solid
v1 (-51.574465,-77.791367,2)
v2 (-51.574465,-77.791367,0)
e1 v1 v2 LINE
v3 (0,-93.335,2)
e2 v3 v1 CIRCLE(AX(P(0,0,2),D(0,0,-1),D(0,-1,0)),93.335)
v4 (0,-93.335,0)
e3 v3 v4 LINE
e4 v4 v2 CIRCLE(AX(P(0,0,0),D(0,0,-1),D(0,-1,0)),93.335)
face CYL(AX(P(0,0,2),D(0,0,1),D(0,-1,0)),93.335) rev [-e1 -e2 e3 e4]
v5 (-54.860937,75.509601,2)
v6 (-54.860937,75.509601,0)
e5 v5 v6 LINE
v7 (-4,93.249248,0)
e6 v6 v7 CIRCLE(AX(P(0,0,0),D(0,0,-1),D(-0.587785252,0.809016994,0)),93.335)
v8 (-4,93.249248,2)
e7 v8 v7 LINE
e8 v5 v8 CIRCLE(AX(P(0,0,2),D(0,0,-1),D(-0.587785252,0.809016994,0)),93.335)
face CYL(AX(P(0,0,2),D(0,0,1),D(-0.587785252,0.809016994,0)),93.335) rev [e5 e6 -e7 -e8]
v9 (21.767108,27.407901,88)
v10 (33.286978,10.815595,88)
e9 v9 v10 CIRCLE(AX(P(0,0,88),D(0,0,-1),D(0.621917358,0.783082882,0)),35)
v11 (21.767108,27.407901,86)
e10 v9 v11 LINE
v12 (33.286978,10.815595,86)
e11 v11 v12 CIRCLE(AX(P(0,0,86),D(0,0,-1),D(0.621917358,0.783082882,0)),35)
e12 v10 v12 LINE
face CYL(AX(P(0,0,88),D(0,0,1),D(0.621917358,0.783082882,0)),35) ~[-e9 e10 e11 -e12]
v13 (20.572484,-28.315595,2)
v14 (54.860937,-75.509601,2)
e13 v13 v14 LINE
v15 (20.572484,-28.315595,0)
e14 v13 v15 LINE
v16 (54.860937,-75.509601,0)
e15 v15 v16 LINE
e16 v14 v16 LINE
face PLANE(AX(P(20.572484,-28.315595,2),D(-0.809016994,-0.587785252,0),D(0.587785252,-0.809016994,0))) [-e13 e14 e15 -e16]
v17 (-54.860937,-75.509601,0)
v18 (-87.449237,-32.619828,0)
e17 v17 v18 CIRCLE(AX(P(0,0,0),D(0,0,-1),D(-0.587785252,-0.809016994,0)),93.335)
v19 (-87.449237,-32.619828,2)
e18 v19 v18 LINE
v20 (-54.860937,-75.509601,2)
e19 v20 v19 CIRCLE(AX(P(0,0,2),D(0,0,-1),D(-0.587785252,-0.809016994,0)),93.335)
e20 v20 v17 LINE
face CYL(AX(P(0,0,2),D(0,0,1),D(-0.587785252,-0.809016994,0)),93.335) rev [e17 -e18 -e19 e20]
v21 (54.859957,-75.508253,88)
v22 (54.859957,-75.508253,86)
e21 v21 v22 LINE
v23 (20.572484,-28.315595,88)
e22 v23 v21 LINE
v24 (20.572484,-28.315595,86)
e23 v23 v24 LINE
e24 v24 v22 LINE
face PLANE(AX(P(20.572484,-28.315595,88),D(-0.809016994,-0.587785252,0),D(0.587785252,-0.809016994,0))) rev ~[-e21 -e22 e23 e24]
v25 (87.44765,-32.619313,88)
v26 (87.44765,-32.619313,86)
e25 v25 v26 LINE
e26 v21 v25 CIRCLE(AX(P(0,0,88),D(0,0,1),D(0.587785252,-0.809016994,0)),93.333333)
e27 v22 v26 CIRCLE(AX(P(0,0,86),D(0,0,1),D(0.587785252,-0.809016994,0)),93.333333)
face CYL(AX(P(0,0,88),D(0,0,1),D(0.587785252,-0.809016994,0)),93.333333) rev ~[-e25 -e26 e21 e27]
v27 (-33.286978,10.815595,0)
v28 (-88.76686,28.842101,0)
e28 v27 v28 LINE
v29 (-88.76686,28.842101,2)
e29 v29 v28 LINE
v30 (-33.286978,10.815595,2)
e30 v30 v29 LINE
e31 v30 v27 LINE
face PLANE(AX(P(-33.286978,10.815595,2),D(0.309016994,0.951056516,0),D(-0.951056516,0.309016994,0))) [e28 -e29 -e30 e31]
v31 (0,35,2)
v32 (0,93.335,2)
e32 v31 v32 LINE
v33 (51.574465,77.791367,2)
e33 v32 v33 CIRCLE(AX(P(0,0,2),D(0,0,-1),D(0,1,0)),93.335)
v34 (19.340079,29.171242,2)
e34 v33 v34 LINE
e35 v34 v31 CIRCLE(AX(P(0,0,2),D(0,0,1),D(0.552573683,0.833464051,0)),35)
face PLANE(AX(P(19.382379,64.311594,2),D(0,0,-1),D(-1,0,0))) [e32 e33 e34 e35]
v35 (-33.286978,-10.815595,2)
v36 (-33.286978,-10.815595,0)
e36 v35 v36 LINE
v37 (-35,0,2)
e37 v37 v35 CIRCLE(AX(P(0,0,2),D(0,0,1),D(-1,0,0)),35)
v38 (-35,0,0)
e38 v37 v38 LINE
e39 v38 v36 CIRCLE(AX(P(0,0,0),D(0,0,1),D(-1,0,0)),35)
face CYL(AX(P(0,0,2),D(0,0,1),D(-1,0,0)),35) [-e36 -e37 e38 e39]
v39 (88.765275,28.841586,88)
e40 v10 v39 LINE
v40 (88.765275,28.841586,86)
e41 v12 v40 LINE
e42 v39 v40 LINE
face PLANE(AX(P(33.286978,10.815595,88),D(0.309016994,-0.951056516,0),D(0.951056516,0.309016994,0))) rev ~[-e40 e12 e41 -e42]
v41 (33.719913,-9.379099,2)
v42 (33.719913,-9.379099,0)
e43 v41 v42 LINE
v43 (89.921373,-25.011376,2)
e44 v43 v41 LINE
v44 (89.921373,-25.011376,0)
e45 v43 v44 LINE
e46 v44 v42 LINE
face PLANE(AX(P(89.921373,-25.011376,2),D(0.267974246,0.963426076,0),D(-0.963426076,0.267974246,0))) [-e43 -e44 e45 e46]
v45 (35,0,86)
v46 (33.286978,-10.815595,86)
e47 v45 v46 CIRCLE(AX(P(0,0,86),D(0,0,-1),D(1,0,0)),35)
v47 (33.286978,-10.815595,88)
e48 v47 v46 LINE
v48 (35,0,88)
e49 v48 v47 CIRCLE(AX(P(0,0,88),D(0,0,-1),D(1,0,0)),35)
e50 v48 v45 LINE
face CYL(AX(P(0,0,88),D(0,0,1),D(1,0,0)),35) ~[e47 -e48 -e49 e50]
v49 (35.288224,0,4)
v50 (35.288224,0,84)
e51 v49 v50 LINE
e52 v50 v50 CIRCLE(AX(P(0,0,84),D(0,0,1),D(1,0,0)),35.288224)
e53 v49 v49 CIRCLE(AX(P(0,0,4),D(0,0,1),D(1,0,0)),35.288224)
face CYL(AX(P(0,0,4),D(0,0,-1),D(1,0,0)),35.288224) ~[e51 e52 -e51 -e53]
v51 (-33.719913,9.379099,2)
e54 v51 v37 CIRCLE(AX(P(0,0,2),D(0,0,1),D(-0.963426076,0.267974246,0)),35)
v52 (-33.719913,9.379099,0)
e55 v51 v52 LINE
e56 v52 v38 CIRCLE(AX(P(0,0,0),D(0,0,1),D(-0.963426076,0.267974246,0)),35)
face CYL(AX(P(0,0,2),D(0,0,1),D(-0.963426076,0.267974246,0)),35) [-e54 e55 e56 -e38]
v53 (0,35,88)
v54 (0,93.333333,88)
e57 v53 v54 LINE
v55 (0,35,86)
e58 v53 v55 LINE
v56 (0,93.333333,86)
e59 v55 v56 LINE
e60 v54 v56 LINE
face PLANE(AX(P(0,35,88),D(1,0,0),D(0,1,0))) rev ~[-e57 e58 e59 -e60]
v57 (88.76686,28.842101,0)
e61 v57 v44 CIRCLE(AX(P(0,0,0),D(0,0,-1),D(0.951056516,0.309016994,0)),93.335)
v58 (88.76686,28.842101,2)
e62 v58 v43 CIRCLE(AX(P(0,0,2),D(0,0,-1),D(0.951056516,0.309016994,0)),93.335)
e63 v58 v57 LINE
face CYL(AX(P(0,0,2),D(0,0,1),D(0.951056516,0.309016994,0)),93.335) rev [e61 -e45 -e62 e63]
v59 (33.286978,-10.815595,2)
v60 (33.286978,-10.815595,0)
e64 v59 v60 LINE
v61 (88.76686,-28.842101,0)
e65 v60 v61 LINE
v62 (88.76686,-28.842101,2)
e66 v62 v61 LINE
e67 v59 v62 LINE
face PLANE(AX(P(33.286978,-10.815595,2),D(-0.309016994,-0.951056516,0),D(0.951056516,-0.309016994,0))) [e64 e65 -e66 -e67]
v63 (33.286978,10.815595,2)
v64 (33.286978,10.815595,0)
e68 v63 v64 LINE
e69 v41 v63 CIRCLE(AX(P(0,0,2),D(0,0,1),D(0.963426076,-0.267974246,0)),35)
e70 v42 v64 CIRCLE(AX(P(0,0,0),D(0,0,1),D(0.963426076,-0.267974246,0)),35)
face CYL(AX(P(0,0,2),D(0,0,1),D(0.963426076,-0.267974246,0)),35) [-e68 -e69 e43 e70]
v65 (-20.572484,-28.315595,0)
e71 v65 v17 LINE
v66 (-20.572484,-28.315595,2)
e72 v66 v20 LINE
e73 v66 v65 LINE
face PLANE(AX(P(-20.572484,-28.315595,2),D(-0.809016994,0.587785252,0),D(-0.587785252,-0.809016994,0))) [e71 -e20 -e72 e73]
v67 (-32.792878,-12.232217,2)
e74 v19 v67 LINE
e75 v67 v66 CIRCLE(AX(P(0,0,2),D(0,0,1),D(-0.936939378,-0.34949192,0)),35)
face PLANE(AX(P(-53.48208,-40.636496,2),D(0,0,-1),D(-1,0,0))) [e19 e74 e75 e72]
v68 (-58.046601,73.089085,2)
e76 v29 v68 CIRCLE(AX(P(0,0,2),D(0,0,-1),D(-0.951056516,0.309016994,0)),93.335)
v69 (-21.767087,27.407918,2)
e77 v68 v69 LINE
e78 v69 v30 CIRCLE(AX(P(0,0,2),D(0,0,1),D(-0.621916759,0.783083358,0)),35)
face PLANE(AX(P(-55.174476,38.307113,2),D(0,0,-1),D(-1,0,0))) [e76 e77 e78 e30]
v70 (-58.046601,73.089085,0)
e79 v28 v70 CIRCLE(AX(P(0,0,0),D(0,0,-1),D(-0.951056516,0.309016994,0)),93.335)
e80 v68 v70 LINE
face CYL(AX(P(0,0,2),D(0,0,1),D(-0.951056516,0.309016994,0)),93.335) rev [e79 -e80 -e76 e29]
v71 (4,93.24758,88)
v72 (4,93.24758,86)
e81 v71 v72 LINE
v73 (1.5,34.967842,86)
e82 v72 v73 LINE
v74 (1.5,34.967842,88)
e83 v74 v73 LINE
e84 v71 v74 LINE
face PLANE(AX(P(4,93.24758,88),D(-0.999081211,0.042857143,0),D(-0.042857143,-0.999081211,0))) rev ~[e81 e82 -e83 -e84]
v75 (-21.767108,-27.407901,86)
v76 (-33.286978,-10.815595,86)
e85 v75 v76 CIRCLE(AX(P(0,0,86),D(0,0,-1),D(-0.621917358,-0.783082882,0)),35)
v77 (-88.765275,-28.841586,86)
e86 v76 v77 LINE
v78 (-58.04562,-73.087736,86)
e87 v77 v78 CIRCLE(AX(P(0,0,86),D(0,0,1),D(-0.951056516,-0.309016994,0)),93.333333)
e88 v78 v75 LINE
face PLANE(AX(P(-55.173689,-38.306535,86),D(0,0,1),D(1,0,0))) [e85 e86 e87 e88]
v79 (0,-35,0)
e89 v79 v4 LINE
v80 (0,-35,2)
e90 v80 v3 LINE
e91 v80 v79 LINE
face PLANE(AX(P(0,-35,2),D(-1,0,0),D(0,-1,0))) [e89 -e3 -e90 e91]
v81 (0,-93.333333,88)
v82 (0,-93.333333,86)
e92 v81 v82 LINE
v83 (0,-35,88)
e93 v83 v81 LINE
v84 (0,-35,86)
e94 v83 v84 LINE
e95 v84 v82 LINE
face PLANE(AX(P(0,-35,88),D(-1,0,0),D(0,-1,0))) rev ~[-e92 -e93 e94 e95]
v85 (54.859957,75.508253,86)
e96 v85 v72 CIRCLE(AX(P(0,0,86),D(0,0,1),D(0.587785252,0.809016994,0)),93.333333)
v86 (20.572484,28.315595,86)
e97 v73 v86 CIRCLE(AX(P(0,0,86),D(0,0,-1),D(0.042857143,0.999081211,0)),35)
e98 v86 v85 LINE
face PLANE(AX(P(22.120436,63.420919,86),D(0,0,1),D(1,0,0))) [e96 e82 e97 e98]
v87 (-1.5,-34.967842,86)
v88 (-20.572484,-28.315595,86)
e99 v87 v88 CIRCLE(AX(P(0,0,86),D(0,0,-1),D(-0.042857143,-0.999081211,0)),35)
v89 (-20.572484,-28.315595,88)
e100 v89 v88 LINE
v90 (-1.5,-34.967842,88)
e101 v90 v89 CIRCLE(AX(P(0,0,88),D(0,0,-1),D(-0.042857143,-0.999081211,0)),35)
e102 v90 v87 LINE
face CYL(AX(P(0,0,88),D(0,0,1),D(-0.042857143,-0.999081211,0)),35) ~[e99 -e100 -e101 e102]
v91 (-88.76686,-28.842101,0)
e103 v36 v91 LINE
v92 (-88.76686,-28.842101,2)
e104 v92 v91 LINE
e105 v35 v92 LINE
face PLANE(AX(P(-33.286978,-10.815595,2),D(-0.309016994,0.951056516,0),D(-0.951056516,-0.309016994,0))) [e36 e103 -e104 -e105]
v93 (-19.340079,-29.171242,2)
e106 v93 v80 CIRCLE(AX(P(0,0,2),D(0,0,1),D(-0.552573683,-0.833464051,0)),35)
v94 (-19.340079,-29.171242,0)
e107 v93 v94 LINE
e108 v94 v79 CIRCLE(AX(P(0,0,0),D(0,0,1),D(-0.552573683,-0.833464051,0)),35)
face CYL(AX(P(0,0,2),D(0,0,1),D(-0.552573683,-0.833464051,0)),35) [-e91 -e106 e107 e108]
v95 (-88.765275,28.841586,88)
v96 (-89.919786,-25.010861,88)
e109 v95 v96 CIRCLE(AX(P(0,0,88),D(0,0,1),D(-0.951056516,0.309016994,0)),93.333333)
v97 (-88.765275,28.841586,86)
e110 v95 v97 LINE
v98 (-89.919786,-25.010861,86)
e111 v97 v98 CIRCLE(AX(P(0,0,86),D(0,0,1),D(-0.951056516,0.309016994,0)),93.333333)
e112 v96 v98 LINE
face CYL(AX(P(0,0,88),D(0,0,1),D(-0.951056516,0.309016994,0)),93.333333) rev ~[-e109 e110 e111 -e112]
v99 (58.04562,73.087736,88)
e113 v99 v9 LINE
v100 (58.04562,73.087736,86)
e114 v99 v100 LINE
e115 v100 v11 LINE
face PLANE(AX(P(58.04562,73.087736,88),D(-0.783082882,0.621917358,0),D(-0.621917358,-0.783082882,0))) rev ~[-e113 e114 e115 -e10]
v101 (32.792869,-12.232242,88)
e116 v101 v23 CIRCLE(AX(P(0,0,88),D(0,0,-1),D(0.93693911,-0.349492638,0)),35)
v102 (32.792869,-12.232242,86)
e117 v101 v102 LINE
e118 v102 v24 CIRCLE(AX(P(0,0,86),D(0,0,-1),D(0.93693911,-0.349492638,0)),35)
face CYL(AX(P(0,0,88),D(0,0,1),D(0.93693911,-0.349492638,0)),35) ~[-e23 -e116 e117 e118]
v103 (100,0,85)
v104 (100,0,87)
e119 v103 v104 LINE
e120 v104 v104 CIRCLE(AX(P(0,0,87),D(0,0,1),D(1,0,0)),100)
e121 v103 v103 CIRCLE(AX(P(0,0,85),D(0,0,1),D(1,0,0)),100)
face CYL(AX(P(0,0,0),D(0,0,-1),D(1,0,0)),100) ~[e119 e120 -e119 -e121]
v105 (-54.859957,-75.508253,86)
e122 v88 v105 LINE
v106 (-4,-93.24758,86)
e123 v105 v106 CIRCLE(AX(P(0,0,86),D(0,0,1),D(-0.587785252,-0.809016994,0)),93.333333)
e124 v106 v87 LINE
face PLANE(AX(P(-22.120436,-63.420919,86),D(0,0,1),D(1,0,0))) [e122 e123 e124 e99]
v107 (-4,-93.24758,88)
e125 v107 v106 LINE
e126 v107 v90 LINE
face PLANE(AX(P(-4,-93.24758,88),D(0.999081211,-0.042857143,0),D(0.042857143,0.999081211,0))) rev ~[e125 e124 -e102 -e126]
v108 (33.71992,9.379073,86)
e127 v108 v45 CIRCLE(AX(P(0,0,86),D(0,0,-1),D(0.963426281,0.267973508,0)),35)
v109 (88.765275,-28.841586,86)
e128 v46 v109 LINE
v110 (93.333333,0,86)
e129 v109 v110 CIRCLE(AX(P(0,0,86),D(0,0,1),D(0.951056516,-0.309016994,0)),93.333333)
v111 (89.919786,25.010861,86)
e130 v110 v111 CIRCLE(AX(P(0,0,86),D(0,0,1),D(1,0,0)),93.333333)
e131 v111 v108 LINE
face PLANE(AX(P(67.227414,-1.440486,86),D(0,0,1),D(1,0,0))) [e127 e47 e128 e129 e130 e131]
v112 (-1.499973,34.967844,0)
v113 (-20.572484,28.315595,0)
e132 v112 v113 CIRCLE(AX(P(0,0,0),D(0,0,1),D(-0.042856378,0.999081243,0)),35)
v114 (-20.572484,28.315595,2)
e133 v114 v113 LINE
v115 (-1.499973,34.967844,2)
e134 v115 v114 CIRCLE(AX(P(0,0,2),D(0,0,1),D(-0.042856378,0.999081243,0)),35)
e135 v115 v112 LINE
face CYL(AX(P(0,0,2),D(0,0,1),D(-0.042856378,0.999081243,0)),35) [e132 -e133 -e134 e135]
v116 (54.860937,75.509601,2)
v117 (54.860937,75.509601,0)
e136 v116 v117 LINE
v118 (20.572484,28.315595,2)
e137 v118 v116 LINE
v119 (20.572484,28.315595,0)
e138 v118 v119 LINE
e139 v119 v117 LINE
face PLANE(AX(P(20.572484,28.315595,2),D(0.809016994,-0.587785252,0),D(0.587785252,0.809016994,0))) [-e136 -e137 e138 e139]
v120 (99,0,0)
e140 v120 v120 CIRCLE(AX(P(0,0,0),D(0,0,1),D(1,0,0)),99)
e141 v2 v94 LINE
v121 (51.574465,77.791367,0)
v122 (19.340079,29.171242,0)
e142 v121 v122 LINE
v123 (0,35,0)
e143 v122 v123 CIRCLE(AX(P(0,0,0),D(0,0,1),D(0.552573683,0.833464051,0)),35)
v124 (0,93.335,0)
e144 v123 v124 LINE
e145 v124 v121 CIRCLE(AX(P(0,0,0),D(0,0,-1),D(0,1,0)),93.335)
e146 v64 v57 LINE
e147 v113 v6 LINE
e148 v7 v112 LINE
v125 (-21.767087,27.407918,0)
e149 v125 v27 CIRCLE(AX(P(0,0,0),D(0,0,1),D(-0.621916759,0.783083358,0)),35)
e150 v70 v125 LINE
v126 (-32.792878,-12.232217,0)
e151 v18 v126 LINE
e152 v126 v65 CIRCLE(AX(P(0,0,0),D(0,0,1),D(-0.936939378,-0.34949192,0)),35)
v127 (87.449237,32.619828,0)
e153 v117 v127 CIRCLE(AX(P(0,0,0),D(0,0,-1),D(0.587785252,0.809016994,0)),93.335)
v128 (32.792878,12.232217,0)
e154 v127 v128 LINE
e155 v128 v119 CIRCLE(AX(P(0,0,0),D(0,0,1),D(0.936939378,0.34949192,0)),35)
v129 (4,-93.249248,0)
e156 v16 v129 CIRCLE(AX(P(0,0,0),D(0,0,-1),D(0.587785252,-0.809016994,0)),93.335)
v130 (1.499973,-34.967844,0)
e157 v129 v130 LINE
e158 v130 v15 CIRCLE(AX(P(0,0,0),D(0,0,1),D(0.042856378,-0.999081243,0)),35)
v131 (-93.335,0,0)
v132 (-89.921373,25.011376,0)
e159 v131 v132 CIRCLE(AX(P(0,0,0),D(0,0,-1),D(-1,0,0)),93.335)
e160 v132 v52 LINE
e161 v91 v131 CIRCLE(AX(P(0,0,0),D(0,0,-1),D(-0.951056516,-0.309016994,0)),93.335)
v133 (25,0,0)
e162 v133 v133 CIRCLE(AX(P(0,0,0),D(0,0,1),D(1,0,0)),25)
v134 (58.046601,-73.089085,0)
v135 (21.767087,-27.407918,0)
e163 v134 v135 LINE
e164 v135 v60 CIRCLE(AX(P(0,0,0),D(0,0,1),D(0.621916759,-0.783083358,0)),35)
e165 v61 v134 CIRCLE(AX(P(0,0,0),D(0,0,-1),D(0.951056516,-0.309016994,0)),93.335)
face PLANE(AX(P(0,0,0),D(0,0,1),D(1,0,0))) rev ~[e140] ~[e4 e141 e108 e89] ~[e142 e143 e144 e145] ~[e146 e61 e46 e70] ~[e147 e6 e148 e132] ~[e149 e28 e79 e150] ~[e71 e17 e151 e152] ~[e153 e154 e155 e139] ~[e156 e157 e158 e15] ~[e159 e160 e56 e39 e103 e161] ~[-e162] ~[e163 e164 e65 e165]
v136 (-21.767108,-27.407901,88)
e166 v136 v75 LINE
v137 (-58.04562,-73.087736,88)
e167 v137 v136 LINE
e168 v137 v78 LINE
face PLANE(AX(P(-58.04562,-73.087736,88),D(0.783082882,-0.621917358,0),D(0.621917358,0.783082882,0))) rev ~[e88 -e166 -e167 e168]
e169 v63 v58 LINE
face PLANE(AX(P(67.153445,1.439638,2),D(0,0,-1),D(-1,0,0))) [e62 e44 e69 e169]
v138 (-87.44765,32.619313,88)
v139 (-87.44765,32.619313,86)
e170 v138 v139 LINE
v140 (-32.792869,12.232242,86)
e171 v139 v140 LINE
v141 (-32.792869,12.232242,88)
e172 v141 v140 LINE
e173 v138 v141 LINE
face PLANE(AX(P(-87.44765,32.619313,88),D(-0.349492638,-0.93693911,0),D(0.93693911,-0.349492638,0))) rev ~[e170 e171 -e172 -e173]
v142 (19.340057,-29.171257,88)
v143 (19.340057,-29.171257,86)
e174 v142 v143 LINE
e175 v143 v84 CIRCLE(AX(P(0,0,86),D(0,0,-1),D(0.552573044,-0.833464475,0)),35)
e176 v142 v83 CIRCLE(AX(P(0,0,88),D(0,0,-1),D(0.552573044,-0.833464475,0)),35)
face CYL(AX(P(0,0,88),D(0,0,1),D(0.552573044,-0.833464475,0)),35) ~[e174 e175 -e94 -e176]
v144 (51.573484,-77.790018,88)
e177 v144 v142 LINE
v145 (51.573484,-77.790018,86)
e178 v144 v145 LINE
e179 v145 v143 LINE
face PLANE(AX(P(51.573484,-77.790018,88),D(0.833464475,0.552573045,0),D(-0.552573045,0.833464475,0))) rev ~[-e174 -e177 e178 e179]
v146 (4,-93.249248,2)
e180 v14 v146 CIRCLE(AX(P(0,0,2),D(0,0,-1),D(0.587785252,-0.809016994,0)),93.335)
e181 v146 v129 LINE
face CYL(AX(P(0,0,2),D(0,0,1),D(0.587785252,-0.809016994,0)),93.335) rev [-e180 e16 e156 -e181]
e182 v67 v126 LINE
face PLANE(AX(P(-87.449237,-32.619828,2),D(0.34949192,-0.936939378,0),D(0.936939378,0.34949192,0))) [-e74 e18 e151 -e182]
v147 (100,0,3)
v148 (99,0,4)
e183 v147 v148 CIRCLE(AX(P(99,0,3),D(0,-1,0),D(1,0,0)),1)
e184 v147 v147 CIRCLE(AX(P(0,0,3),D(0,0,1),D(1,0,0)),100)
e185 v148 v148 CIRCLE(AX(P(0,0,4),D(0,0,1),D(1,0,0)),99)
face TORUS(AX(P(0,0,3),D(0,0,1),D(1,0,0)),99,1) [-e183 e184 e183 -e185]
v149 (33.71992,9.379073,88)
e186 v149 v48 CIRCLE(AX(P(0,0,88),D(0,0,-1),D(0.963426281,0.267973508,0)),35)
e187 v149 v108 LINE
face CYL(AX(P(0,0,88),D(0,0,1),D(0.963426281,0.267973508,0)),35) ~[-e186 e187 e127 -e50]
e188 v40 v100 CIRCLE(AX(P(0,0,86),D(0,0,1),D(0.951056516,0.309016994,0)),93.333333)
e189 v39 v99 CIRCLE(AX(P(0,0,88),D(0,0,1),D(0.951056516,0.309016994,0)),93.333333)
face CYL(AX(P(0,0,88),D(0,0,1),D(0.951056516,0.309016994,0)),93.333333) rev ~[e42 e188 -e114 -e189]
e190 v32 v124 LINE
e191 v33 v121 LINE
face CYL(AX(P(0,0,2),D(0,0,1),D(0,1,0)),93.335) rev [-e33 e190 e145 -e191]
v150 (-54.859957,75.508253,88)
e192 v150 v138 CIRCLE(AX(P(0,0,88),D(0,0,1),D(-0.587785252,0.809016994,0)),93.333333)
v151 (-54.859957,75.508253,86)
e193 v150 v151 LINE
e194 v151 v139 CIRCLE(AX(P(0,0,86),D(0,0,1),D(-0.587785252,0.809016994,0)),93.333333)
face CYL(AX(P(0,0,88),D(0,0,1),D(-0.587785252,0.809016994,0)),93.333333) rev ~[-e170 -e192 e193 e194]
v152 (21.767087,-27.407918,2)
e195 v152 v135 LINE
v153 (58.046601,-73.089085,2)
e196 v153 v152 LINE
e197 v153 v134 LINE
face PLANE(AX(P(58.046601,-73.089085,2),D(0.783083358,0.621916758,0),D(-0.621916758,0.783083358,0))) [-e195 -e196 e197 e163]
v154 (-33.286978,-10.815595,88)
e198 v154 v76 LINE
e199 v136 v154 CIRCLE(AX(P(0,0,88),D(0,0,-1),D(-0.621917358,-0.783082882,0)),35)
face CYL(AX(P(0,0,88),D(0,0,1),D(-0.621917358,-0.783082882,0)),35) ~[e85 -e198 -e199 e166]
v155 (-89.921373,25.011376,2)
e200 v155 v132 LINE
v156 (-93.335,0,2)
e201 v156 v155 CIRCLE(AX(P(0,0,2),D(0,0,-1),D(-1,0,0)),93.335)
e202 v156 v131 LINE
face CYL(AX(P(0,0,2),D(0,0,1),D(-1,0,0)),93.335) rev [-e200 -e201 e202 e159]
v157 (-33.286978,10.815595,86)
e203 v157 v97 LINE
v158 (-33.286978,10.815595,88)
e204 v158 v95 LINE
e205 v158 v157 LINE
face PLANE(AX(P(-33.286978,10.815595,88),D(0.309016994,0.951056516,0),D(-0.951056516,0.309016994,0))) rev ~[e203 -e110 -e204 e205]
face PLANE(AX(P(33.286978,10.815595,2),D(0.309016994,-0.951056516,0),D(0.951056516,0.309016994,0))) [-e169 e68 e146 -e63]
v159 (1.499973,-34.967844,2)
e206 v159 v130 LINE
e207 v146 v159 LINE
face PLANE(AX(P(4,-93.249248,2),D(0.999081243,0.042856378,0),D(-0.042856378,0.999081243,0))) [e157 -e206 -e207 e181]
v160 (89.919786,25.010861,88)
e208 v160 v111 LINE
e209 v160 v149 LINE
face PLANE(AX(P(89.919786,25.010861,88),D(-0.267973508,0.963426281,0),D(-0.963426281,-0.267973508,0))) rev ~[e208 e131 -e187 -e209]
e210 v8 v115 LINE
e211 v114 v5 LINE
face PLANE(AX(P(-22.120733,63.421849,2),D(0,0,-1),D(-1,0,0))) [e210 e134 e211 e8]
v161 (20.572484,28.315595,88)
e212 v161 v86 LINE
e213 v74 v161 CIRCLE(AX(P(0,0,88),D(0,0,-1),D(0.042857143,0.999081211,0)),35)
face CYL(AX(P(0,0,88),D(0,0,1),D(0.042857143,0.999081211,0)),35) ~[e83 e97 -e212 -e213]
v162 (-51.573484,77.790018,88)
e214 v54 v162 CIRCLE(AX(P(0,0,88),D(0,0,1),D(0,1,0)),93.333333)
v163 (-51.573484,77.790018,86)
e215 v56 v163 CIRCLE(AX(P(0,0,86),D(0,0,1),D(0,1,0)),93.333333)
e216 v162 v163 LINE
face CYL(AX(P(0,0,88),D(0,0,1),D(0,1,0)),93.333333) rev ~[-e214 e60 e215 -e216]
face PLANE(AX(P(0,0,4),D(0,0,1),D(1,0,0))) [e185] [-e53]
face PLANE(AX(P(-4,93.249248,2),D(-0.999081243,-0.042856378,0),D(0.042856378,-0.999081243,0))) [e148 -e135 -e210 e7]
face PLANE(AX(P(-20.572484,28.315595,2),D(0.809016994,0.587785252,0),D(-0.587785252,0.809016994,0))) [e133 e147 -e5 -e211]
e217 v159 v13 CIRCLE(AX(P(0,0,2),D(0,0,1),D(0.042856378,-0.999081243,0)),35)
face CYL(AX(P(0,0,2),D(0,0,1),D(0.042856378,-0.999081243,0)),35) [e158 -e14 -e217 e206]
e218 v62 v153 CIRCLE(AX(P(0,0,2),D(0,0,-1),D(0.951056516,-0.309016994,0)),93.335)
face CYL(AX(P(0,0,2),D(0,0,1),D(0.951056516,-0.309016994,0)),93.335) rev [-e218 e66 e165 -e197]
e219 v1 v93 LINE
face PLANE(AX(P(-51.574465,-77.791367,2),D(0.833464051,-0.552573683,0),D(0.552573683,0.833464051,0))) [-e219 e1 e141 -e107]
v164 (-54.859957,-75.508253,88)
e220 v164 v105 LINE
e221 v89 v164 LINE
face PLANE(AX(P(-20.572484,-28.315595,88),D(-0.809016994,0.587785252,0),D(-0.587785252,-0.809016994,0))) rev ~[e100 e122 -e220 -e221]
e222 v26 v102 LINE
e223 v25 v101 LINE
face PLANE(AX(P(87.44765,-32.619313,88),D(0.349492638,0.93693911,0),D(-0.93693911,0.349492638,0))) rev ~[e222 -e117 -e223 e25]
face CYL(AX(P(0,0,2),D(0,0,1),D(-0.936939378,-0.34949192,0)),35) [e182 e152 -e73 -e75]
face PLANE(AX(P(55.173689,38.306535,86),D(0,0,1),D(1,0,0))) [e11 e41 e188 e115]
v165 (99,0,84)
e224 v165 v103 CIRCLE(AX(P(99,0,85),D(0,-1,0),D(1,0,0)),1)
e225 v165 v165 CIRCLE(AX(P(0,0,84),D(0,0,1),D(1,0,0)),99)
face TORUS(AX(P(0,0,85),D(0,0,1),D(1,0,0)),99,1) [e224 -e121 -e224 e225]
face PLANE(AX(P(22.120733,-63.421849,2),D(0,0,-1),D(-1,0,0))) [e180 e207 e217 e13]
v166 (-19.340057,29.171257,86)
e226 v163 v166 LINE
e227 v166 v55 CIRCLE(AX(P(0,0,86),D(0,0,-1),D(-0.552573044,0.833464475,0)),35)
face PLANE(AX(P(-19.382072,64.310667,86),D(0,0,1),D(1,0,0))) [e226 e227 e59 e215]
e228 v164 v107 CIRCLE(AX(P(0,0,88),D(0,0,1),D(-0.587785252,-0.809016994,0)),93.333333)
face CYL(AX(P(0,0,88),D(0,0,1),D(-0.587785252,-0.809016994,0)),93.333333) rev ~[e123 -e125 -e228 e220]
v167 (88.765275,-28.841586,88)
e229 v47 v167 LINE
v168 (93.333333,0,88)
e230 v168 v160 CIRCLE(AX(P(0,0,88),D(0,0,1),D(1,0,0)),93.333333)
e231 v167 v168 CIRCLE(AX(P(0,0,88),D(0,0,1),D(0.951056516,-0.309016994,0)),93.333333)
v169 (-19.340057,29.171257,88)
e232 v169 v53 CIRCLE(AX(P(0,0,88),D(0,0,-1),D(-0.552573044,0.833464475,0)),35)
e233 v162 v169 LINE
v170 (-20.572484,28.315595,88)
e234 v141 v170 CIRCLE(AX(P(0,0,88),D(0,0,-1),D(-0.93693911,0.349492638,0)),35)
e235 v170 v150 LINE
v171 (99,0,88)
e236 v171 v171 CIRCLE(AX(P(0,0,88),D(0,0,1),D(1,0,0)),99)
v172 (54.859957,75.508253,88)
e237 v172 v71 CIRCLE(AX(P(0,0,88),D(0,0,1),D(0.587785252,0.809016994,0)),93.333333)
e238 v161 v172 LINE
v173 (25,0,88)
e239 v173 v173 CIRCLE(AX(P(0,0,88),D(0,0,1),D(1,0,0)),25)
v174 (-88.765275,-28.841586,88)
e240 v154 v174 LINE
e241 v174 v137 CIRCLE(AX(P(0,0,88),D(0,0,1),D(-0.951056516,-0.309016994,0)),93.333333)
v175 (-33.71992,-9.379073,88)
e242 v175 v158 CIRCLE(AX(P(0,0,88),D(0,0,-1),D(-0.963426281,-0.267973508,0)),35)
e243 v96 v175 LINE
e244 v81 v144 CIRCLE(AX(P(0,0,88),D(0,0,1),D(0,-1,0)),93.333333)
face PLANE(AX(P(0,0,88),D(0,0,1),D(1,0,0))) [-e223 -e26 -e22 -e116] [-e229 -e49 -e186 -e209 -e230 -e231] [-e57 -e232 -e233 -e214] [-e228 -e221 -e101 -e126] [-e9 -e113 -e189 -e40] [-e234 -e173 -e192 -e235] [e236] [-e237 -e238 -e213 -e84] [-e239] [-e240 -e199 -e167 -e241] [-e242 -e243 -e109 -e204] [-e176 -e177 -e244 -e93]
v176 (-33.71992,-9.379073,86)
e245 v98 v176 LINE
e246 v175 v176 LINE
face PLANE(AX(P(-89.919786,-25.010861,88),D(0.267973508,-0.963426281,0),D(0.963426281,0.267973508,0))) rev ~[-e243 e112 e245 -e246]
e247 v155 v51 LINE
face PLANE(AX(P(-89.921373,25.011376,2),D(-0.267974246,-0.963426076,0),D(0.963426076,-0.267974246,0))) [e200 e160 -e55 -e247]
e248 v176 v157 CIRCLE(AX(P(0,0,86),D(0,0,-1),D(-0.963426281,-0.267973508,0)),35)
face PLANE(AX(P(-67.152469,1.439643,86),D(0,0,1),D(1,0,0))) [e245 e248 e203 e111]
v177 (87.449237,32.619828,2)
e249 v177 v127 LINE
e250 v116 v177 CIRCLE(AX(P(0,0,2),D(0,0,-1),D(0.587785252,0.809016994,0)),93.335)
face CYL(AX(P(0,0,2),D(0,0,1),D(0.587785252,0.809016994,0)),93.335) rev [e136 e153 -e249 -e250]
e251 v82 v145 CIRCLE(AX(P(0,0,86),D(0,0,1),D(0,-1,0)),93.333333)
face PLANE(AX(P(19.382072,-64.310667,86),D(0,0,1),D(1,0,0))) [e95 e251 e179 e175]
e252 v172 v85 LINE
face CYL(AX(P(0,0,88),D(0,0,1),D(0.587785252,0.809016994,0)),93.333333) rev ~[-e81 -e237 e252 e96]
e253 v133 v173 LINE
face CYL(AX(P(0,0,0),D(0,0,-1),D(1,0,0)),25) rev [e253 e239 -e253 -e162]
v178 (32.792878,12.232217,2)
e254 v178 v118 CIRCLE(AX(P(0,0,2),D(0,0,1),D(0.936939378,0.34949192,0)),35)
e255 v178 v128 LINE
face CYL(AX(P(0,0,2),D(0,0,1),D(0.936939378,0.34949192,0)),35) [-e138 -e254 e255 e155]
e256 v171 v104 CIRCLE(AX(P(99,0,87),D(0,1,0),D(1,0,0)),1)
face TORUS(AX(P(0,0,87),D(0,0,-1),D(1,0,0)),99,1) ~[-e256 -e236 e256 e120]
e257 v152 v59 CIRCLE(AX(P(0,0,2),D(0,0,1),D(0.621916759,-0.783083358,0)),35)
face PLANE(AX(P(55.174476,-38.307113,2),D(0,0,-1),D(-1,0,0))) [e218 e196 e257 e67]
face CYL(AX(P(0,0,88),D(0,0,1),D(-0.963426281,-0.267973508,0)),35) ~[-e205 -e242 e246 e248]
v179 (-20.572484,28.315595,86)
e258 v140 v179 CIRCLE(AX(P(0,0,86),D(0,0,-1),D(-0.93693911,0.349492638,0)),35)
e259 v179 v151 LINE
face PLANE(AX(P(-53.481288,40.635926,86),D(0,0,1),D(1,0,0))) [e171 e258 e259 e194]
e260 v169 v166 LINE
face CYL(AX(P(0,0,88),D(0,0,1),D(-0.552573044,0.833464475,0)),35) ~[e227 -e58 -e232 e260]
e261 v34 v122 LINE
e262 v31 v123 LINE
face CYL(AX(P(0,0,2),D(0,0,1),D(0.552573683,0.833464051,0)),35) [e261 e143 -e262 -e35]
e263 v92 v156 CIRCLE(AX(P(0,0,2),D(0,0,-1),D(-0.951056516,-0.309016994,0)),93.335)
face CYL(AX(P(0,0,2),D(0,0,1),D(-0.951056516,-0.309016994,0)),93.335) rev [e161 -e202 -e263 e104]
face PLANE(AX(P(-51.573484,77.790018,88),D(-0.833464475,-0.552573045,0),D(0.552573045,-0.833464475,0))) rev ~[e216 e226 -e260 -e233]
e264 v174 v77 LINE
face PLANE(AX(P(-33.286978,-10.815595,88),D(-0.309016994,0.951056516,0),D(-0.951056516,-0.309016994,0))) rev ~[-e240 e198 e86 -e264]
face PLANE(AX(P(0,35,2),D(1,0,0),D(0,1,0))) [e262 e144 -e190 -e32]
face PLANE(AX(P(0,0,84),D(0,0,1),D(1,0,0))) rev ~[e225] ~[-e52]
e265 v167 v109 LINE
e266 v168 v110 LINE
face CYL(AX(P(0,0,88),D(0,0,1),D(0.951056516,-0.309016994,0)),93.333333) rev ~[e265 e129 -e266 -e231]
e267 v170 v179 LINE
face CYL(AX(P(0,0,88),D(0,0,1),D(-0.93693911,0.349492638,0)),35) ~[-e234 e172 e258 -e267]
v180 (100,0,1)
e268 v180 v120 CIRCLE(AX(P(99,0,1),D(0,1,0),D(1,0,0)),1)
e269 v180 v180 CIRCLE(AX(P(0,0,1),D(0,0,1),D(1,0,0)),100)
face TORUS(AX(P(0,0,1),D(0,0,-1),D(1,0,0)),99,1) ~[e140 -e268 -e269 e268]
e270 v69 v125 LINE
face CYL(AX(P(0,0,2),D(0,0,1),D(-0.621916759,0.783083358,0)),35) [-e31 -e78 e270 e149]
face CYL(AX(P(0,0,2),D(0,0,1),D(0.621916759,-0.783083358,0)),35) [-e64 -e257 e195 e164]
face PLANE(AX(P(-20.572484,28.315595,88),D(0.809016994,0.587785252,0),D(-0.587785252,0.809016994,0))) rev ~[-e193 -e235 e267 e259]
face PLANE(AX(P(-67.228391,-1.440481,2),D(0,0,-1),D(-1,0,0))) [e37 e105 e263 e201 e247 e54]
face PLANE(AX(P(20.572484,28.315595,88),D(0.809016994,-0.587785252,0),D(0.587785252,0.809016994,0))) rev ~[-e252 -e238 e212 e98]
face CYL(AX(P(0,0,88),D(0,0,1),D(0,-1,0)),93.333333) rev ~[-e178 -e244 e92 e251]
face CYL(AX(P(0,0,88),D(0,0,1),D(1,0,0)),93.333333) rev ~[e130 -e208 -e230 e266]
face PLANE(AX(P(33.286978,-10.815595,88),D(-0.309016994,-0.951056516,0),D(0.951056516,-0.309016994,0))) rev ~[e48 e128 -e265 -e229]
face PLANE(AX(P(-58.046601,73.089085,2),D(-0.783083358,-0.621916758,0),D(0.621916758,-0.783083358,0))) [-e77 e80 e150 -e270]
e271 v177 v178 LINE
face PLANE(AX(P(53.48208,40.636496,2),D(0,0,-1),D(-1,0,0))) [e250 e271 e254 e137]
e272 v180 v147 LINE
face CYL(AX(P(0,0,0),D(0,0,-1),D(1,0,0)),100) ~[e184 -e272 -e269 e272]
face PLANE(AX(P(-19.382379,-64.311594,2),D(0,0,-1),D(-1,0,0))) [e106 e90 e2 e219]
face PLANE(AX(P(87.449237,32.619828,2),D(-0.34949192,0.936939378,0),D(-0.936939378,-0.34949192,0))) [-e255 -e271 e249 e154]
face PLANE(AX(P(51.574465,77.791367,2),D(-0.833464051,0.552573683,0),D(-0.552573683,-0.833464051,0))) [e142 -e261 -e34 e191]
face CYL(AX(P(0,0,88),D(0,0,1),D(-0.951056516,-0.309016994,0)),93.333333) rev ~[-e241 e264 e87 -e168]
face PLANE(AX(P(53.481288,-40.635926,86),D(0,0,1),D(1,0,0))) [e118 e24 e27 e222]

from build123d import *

# Parameters (mm, degrees)
SKICA1_R                 = 100
SKICA1_R_2               = 25
P_IDAT_VYSUNUT_M1_DEPTH  = 88
ODEBRAT_START            = -80
SKICA2_R                 = 100
SKICA2_R_2               = 35.288223769
ODEBRAT_VYSUNUT_M1_DEPTH = 80
ZAOBLIT1_R               = 1
ODEBRAT_VYSUNUT_M2_DEPTH = 2
ODEBRAT_START_2          = -2
ODEBRAT_VYSUNUT_M3_DEPTH = 2


with BuildPart() as part:
    # Skica1 → Přidat vysunutím1 (new body)
    with BuildSketch(Plane.XY):
        Circle(SKICA1_R)
        Circle(SKICA1_R_2, mode=Mode.SUBTRACT)
    extrude(amount=P_IDAT_VYSUNUT_M1_DEPTH)

    # Skica2 → Odebrat vysunutím1 (cut)
    with BuildSketch(Plane.XY.offset(84).offset(ODEBRAT_START)):
        Circle(SKICA2_R)
        Circle(SKICA2_R_2, mode=Mode.SUBTRACT)
    extrude(amount=ODEBRAT_VYSUNUT_M1_DEPTH, mode=Mode.SUBTRACT)

    # Zaoblit1
    zaoblit1_edges = [part.edges().sort_by_distance(p)[0] for p in [
        (-100, 0, 4),
        (-100, 0, 84),
        (-100, 0, 0),
        (-100, 0, 88),
    ]]
    fillet(zaoblit1_edges, radius=ZAOBLIT1_R)

    # Skica3 → Odebrat vysunutím2 (cut)
    with BuildSketch(Plane.XY.offset(88)):
        with BuildLine():
            Line((0, 35), (0, 93.333333333))
            ThreePointArc((0, 93.333333333), (-26.932410451, 89.363059361), (-51.573484154, 77.790017633))
            Line((-51.573484154, 77.790017633), (-19.340056558, 29.171256612))
            ThreePointArc((-19.340056558, 29.171256612), (-10.099653919, 33.51114726), (0, 35))
        make_face()
        with BuildLine():
            Line((-20.57248383, 28.315594803), (-54.859956881, 75.508252808))
            ThreePointArc((-54.859956881, 75.508252808), (-74.315066147, 56.465760021), (-87.44765028, 32.619312862))
            Line((-87.44765028, 32.619312862), (-32.792868855, 12.232242323))
            ThreePointArc((-32.792868855, 12.232242323), (-27.868149805, 21.174660008), (-20.57248383, 28.315594803))
        make_face()
        with BuildLine():
            ThreePointArc((54.859956881, 75.508252808), (30.737510638, 88.126707364), (4, 93.247579653))
            Line((4, 93.247579653), (1.5, 34.96784237))
            ThreePointArc((1.5, 34.96784237), (11.526566489, 33.047515262), (20.57248383, 28.315594803))
            Line((20.57248383, 28.315594803), (54.859956881, 75.508252808))
        make_face()
        with BuildLine():
            ThreePointArc((88.765274854, 28.841586142), (76.666747393, 53.228948471), (58.045620109, 73.087735614))
            Line((58.045620109, 73.087735614), (21.767107541, 27.407900855))
            ThreePointArc((21.767107541, 27.407900855), (28.750030272, 19.960855677), (33.28697807, 10.815594803))
            Line((33.28697807, 10.815594803), (88.765274854, 28.841586142))
        make_face()
        with BuildLine():
            ThreePointArc((93.333333333, 0), (92.476009032, 12.621365401), (89.919786235, 25.010860732))
            Line((89.919786235, 25.010860732), (33.719919838, 9.379072774))
            ThreePointArc((33.719919838, 9.379072774), (34.678503387, 4.733012025), (35, 0))
            ThreePointArc((35, 0), (34.569091921, -5.475206276), (33.28697807, -10.815594803))
            Line((33.28697807, -10.815594803), (88.765274854, -28.841586142))
            ThreePointArc((88.765274854, -28.841586142), (92.184245122, -14.60055007), (93.333333333, 0))
        make_face()
        with BuildLine():
            ThreePointArc((54.859956881, -75.508252808), (74.315066147, -56.465760021), (87.44765028, -32.619312862))
            Line((87.44765028, -32.619312862), (32.792868855, -12.232242323))
            ThreePointArc((32.792868855, -12.232242323), (27.868149805, -21.174660008), (20.57248383, -28.315594803))
            Line((20.57248383, -28.315594803), (54.859956881, -75.508252808))
        make_face()
        with BuildLine():
            ThreePointArc((0, -93.333333333), (26.932410451, -89.363059361), (51.573484154, -77.790017633))
            Line((51.573484154, -77.790017633), (19.340056558, -29.171256612))
            ThreePointArc((19.340056558, -29.171256612), (10.099653919, -33.51114726), (0, -35))
            Line((0, -35), (0, -93.333333333))
        make_face()
        with BuildLine():
            Line((-20.57248383, -28.315594803), (-54.859956881, -75.508252808))
            ThreePointArc((-54.859956881, -75.508252808), (-30.737510638, -88.126707364), (-4, -93.247579653))
            Line((-4, -93.247579653), (-1.5, -34.96784237))
            ThreePointArc((-1.5, -34.96784237), (-11.526566489, -33.047515262), (-20.57248383, -28.315594803))
        make_face()
        with BuildLine():
            Line((-33.28697807, -10.815594803), (-88.765274854, -28.841586142))
            ThreePointArc((-88.765274854, -28.841586142), (-76.666747393, -53.228948471), (-58.045620109, -73.087735614))
            Line((-58.045620109, -73.087735614), (-21.767107541, -27.407900855))
            ThreePointArc((-21.767107541, -27.407900855), (-28.750030272, -19.960855677), (-33.28697807, -10.815594803))
        make_face()
        with BuildLine():
            Line((-33.28697807, 10.815594803), (-88.765274854, 28.841586142))
            ThreePointArc((-88.765274854, 28.841586142), (-93.31189245, 2.000459553), (-89.919786235, -25.010860732))
            Line((-89.919786235, -25.010860732), (-33.719919838, -9.379072774))
            ThreePointArc((-33.719919838, -9.379072774), (-34.991959669, 0.750172332), (-33.28697807, 10.815594803))
        make_face()
    extrude(amount=-ODEBRAT_VYSUNUT_M2_DEPTH, mode=Mode.SUBTRACT)

    # Skica4 → Odebrat vysunutím3 (cut)
    with BuildSketch(Plane(origin=(0, 0, 0), x_dir=(-1, 0, 0), z_dir=(0, 0, -1)).offset(ODEBRAT_START_2)):
        with BuildLine():
            ThreePointArc((-19.340078903, 29.171241798), (-10.099666754, 33.511143392), (0, 35))
            Line((0, 35), (0, 93.335))
            ThreePointArc((0, 93.335), (-26.932925613, 89.364644815), (-51.574464697, 77.791367234))
            Line((-51.574464697, 77.791367234), (-19.340078903, 29.171241798))
        make_face()
        with BuildLine():
            ThreePointArc((-32.792878225, 12.232217204), (-27.868157915, 21.174649334), (-20.57248383, 28.315594803))
            Line((-20.57248383, 28.315594803), (-54.860936523, 75.50960117))
            ThreePointArc((-54.860936523, 75.50960117), (-74.316414828, 56.466739875), (-87.449236832, 32.619828364))
            Line((-87.449236832, 32.619828364), (-32.792878225, 12.232217204))
        make_face()
        with BuildLine():
            ThreePointArc((-33.719912654, -9.379098604), (-34.991959956, 0.750158931), (-33.28697807, 10.815594803))
            Line((-33.28697807, 10.815594803), (-88.766859948, 28.84210117))
            ThreePointArc((-88.766859948, 28.84210117), (-93.3135595, 2.000459537), (-89.921372787, -25.011376234))
            Line((-89.921372787, -25.011376234), (-33.719912654, -9.379098604))
        make_face()
        with BuildLine():
            ThreePointArc((-21.767086547, -27.407917529), (-28.750022627, -19.960866688), (-33.28697807, -10.815594803))
            Line((-33.28697807, -10.815594803), (-88.766859948, -28.84210117))
            ThreePointArc((-88.766859948, -28.84210117), (-76.668096055, -53.229928352), (-58.046600652, -73.089085216))
            Line((-58.046600652, -73.089085216), (-21.767086547, -27.407917529))
        make_face()
        with BuildLine():
            ThreePointArc((-1.499973215, -34.967843519), (-11.526553832, -33.047519676), (-20.57248383, -28.315594803))
            Line((-20.57248383, -28.315594803), (-54.860936523, -75.50960117))
            ThreePointArc((-54.860936523, -75.50960117), (-30.738025769, -88.128292828), (-4, -93.249247852))
            Line((-4, -93.249247852), (-1.499973215, -34.967843519))
        make_face()
        with BuildLine():
            Line((51.574464697, -77.791367234), (19.340078903, -29.171241798))
            ThreePointArc((19.340078903, -29.171241798), (10.099666754, -33.511143392), (0, -35))
            Line((0, -35), (0, -93.335))
            ThreePointArc((0, -93.335), (26.932925613, -89.364644815), (51.574464697, -77.791367234))
        make_face()
        with BuildLine():
            Line((87.449236832, -32.619828364), (32.792878225, -12.232217204))
            ThreePointArc((32.792878225, -12.232217204), (27.868157915, -21.174649334), (20.57248383, -28.315594803))
            Line((20.57248383, -28.315594803), (54.860936523, -75.50960117))
            ThreePointArc((54.860936523, -75.50960117), (74.316414828, -56.466739875), (87.449236832, -32.619828364))
        make_face()
        with BuildLine():
            Line((89.921372787, 25.011376234), (33.719912654, 9.379098604))
            ThreePointArc((33.719912654, 9.379098604), (34.678501574, 4.733025307), (35, 0))
            ThreePointArc((35, 0), (34.569091921, -5.475206276), (33.28697807, -10.815594803))
            Line((33.28697807, -10.815594803), (88.766859948, -28.84210117))
            ThreePointArc((88.766859948, -28.84210117), (92.185891269, -14.600810795), (93.335, 0))
            ThreePointArc((93.335, 0), (92.477655555, 12.621626201), (89.921372787, 25.011376234))
        make_face()
        with BuildLine():
            Line((58.046600652, 73.089085216), (21.767086547, 27.407917529))
            ThreePointArc((21.767086547, 27.407917529), (28.750022627, 19.960866688), (33.28697807, 10.815594803))
            Line((33.28697807, 10.815594803), (88.766859948, 28.84210117))
            ThreePointArc((88.766859948, 28.84210117), (76.668096055, 53.229928352), (58.046600652, 73.089085216))
        make_face()
        with BuildLine():
            Line((4, 93.249247852), (1.499973215, 34.967843519))
            ThreePointArc((1.499973215, 34.967843519), (11.526553832, 33.047519676), (20.57248383, 28.315594803))
            Line((20.57248383, 28.315594803), (54.860936523, 75.50960117))
            ThreePointArc((54.860936523, 75.50960117), (30.738025769, 88.128292828), (4, 93.249247852))
        make_face()
    extrude(amount=ODEBRAT_VYSUNUT_M3_DEPTH, mode=Mode.SUBTRACT)


solid = part.part
